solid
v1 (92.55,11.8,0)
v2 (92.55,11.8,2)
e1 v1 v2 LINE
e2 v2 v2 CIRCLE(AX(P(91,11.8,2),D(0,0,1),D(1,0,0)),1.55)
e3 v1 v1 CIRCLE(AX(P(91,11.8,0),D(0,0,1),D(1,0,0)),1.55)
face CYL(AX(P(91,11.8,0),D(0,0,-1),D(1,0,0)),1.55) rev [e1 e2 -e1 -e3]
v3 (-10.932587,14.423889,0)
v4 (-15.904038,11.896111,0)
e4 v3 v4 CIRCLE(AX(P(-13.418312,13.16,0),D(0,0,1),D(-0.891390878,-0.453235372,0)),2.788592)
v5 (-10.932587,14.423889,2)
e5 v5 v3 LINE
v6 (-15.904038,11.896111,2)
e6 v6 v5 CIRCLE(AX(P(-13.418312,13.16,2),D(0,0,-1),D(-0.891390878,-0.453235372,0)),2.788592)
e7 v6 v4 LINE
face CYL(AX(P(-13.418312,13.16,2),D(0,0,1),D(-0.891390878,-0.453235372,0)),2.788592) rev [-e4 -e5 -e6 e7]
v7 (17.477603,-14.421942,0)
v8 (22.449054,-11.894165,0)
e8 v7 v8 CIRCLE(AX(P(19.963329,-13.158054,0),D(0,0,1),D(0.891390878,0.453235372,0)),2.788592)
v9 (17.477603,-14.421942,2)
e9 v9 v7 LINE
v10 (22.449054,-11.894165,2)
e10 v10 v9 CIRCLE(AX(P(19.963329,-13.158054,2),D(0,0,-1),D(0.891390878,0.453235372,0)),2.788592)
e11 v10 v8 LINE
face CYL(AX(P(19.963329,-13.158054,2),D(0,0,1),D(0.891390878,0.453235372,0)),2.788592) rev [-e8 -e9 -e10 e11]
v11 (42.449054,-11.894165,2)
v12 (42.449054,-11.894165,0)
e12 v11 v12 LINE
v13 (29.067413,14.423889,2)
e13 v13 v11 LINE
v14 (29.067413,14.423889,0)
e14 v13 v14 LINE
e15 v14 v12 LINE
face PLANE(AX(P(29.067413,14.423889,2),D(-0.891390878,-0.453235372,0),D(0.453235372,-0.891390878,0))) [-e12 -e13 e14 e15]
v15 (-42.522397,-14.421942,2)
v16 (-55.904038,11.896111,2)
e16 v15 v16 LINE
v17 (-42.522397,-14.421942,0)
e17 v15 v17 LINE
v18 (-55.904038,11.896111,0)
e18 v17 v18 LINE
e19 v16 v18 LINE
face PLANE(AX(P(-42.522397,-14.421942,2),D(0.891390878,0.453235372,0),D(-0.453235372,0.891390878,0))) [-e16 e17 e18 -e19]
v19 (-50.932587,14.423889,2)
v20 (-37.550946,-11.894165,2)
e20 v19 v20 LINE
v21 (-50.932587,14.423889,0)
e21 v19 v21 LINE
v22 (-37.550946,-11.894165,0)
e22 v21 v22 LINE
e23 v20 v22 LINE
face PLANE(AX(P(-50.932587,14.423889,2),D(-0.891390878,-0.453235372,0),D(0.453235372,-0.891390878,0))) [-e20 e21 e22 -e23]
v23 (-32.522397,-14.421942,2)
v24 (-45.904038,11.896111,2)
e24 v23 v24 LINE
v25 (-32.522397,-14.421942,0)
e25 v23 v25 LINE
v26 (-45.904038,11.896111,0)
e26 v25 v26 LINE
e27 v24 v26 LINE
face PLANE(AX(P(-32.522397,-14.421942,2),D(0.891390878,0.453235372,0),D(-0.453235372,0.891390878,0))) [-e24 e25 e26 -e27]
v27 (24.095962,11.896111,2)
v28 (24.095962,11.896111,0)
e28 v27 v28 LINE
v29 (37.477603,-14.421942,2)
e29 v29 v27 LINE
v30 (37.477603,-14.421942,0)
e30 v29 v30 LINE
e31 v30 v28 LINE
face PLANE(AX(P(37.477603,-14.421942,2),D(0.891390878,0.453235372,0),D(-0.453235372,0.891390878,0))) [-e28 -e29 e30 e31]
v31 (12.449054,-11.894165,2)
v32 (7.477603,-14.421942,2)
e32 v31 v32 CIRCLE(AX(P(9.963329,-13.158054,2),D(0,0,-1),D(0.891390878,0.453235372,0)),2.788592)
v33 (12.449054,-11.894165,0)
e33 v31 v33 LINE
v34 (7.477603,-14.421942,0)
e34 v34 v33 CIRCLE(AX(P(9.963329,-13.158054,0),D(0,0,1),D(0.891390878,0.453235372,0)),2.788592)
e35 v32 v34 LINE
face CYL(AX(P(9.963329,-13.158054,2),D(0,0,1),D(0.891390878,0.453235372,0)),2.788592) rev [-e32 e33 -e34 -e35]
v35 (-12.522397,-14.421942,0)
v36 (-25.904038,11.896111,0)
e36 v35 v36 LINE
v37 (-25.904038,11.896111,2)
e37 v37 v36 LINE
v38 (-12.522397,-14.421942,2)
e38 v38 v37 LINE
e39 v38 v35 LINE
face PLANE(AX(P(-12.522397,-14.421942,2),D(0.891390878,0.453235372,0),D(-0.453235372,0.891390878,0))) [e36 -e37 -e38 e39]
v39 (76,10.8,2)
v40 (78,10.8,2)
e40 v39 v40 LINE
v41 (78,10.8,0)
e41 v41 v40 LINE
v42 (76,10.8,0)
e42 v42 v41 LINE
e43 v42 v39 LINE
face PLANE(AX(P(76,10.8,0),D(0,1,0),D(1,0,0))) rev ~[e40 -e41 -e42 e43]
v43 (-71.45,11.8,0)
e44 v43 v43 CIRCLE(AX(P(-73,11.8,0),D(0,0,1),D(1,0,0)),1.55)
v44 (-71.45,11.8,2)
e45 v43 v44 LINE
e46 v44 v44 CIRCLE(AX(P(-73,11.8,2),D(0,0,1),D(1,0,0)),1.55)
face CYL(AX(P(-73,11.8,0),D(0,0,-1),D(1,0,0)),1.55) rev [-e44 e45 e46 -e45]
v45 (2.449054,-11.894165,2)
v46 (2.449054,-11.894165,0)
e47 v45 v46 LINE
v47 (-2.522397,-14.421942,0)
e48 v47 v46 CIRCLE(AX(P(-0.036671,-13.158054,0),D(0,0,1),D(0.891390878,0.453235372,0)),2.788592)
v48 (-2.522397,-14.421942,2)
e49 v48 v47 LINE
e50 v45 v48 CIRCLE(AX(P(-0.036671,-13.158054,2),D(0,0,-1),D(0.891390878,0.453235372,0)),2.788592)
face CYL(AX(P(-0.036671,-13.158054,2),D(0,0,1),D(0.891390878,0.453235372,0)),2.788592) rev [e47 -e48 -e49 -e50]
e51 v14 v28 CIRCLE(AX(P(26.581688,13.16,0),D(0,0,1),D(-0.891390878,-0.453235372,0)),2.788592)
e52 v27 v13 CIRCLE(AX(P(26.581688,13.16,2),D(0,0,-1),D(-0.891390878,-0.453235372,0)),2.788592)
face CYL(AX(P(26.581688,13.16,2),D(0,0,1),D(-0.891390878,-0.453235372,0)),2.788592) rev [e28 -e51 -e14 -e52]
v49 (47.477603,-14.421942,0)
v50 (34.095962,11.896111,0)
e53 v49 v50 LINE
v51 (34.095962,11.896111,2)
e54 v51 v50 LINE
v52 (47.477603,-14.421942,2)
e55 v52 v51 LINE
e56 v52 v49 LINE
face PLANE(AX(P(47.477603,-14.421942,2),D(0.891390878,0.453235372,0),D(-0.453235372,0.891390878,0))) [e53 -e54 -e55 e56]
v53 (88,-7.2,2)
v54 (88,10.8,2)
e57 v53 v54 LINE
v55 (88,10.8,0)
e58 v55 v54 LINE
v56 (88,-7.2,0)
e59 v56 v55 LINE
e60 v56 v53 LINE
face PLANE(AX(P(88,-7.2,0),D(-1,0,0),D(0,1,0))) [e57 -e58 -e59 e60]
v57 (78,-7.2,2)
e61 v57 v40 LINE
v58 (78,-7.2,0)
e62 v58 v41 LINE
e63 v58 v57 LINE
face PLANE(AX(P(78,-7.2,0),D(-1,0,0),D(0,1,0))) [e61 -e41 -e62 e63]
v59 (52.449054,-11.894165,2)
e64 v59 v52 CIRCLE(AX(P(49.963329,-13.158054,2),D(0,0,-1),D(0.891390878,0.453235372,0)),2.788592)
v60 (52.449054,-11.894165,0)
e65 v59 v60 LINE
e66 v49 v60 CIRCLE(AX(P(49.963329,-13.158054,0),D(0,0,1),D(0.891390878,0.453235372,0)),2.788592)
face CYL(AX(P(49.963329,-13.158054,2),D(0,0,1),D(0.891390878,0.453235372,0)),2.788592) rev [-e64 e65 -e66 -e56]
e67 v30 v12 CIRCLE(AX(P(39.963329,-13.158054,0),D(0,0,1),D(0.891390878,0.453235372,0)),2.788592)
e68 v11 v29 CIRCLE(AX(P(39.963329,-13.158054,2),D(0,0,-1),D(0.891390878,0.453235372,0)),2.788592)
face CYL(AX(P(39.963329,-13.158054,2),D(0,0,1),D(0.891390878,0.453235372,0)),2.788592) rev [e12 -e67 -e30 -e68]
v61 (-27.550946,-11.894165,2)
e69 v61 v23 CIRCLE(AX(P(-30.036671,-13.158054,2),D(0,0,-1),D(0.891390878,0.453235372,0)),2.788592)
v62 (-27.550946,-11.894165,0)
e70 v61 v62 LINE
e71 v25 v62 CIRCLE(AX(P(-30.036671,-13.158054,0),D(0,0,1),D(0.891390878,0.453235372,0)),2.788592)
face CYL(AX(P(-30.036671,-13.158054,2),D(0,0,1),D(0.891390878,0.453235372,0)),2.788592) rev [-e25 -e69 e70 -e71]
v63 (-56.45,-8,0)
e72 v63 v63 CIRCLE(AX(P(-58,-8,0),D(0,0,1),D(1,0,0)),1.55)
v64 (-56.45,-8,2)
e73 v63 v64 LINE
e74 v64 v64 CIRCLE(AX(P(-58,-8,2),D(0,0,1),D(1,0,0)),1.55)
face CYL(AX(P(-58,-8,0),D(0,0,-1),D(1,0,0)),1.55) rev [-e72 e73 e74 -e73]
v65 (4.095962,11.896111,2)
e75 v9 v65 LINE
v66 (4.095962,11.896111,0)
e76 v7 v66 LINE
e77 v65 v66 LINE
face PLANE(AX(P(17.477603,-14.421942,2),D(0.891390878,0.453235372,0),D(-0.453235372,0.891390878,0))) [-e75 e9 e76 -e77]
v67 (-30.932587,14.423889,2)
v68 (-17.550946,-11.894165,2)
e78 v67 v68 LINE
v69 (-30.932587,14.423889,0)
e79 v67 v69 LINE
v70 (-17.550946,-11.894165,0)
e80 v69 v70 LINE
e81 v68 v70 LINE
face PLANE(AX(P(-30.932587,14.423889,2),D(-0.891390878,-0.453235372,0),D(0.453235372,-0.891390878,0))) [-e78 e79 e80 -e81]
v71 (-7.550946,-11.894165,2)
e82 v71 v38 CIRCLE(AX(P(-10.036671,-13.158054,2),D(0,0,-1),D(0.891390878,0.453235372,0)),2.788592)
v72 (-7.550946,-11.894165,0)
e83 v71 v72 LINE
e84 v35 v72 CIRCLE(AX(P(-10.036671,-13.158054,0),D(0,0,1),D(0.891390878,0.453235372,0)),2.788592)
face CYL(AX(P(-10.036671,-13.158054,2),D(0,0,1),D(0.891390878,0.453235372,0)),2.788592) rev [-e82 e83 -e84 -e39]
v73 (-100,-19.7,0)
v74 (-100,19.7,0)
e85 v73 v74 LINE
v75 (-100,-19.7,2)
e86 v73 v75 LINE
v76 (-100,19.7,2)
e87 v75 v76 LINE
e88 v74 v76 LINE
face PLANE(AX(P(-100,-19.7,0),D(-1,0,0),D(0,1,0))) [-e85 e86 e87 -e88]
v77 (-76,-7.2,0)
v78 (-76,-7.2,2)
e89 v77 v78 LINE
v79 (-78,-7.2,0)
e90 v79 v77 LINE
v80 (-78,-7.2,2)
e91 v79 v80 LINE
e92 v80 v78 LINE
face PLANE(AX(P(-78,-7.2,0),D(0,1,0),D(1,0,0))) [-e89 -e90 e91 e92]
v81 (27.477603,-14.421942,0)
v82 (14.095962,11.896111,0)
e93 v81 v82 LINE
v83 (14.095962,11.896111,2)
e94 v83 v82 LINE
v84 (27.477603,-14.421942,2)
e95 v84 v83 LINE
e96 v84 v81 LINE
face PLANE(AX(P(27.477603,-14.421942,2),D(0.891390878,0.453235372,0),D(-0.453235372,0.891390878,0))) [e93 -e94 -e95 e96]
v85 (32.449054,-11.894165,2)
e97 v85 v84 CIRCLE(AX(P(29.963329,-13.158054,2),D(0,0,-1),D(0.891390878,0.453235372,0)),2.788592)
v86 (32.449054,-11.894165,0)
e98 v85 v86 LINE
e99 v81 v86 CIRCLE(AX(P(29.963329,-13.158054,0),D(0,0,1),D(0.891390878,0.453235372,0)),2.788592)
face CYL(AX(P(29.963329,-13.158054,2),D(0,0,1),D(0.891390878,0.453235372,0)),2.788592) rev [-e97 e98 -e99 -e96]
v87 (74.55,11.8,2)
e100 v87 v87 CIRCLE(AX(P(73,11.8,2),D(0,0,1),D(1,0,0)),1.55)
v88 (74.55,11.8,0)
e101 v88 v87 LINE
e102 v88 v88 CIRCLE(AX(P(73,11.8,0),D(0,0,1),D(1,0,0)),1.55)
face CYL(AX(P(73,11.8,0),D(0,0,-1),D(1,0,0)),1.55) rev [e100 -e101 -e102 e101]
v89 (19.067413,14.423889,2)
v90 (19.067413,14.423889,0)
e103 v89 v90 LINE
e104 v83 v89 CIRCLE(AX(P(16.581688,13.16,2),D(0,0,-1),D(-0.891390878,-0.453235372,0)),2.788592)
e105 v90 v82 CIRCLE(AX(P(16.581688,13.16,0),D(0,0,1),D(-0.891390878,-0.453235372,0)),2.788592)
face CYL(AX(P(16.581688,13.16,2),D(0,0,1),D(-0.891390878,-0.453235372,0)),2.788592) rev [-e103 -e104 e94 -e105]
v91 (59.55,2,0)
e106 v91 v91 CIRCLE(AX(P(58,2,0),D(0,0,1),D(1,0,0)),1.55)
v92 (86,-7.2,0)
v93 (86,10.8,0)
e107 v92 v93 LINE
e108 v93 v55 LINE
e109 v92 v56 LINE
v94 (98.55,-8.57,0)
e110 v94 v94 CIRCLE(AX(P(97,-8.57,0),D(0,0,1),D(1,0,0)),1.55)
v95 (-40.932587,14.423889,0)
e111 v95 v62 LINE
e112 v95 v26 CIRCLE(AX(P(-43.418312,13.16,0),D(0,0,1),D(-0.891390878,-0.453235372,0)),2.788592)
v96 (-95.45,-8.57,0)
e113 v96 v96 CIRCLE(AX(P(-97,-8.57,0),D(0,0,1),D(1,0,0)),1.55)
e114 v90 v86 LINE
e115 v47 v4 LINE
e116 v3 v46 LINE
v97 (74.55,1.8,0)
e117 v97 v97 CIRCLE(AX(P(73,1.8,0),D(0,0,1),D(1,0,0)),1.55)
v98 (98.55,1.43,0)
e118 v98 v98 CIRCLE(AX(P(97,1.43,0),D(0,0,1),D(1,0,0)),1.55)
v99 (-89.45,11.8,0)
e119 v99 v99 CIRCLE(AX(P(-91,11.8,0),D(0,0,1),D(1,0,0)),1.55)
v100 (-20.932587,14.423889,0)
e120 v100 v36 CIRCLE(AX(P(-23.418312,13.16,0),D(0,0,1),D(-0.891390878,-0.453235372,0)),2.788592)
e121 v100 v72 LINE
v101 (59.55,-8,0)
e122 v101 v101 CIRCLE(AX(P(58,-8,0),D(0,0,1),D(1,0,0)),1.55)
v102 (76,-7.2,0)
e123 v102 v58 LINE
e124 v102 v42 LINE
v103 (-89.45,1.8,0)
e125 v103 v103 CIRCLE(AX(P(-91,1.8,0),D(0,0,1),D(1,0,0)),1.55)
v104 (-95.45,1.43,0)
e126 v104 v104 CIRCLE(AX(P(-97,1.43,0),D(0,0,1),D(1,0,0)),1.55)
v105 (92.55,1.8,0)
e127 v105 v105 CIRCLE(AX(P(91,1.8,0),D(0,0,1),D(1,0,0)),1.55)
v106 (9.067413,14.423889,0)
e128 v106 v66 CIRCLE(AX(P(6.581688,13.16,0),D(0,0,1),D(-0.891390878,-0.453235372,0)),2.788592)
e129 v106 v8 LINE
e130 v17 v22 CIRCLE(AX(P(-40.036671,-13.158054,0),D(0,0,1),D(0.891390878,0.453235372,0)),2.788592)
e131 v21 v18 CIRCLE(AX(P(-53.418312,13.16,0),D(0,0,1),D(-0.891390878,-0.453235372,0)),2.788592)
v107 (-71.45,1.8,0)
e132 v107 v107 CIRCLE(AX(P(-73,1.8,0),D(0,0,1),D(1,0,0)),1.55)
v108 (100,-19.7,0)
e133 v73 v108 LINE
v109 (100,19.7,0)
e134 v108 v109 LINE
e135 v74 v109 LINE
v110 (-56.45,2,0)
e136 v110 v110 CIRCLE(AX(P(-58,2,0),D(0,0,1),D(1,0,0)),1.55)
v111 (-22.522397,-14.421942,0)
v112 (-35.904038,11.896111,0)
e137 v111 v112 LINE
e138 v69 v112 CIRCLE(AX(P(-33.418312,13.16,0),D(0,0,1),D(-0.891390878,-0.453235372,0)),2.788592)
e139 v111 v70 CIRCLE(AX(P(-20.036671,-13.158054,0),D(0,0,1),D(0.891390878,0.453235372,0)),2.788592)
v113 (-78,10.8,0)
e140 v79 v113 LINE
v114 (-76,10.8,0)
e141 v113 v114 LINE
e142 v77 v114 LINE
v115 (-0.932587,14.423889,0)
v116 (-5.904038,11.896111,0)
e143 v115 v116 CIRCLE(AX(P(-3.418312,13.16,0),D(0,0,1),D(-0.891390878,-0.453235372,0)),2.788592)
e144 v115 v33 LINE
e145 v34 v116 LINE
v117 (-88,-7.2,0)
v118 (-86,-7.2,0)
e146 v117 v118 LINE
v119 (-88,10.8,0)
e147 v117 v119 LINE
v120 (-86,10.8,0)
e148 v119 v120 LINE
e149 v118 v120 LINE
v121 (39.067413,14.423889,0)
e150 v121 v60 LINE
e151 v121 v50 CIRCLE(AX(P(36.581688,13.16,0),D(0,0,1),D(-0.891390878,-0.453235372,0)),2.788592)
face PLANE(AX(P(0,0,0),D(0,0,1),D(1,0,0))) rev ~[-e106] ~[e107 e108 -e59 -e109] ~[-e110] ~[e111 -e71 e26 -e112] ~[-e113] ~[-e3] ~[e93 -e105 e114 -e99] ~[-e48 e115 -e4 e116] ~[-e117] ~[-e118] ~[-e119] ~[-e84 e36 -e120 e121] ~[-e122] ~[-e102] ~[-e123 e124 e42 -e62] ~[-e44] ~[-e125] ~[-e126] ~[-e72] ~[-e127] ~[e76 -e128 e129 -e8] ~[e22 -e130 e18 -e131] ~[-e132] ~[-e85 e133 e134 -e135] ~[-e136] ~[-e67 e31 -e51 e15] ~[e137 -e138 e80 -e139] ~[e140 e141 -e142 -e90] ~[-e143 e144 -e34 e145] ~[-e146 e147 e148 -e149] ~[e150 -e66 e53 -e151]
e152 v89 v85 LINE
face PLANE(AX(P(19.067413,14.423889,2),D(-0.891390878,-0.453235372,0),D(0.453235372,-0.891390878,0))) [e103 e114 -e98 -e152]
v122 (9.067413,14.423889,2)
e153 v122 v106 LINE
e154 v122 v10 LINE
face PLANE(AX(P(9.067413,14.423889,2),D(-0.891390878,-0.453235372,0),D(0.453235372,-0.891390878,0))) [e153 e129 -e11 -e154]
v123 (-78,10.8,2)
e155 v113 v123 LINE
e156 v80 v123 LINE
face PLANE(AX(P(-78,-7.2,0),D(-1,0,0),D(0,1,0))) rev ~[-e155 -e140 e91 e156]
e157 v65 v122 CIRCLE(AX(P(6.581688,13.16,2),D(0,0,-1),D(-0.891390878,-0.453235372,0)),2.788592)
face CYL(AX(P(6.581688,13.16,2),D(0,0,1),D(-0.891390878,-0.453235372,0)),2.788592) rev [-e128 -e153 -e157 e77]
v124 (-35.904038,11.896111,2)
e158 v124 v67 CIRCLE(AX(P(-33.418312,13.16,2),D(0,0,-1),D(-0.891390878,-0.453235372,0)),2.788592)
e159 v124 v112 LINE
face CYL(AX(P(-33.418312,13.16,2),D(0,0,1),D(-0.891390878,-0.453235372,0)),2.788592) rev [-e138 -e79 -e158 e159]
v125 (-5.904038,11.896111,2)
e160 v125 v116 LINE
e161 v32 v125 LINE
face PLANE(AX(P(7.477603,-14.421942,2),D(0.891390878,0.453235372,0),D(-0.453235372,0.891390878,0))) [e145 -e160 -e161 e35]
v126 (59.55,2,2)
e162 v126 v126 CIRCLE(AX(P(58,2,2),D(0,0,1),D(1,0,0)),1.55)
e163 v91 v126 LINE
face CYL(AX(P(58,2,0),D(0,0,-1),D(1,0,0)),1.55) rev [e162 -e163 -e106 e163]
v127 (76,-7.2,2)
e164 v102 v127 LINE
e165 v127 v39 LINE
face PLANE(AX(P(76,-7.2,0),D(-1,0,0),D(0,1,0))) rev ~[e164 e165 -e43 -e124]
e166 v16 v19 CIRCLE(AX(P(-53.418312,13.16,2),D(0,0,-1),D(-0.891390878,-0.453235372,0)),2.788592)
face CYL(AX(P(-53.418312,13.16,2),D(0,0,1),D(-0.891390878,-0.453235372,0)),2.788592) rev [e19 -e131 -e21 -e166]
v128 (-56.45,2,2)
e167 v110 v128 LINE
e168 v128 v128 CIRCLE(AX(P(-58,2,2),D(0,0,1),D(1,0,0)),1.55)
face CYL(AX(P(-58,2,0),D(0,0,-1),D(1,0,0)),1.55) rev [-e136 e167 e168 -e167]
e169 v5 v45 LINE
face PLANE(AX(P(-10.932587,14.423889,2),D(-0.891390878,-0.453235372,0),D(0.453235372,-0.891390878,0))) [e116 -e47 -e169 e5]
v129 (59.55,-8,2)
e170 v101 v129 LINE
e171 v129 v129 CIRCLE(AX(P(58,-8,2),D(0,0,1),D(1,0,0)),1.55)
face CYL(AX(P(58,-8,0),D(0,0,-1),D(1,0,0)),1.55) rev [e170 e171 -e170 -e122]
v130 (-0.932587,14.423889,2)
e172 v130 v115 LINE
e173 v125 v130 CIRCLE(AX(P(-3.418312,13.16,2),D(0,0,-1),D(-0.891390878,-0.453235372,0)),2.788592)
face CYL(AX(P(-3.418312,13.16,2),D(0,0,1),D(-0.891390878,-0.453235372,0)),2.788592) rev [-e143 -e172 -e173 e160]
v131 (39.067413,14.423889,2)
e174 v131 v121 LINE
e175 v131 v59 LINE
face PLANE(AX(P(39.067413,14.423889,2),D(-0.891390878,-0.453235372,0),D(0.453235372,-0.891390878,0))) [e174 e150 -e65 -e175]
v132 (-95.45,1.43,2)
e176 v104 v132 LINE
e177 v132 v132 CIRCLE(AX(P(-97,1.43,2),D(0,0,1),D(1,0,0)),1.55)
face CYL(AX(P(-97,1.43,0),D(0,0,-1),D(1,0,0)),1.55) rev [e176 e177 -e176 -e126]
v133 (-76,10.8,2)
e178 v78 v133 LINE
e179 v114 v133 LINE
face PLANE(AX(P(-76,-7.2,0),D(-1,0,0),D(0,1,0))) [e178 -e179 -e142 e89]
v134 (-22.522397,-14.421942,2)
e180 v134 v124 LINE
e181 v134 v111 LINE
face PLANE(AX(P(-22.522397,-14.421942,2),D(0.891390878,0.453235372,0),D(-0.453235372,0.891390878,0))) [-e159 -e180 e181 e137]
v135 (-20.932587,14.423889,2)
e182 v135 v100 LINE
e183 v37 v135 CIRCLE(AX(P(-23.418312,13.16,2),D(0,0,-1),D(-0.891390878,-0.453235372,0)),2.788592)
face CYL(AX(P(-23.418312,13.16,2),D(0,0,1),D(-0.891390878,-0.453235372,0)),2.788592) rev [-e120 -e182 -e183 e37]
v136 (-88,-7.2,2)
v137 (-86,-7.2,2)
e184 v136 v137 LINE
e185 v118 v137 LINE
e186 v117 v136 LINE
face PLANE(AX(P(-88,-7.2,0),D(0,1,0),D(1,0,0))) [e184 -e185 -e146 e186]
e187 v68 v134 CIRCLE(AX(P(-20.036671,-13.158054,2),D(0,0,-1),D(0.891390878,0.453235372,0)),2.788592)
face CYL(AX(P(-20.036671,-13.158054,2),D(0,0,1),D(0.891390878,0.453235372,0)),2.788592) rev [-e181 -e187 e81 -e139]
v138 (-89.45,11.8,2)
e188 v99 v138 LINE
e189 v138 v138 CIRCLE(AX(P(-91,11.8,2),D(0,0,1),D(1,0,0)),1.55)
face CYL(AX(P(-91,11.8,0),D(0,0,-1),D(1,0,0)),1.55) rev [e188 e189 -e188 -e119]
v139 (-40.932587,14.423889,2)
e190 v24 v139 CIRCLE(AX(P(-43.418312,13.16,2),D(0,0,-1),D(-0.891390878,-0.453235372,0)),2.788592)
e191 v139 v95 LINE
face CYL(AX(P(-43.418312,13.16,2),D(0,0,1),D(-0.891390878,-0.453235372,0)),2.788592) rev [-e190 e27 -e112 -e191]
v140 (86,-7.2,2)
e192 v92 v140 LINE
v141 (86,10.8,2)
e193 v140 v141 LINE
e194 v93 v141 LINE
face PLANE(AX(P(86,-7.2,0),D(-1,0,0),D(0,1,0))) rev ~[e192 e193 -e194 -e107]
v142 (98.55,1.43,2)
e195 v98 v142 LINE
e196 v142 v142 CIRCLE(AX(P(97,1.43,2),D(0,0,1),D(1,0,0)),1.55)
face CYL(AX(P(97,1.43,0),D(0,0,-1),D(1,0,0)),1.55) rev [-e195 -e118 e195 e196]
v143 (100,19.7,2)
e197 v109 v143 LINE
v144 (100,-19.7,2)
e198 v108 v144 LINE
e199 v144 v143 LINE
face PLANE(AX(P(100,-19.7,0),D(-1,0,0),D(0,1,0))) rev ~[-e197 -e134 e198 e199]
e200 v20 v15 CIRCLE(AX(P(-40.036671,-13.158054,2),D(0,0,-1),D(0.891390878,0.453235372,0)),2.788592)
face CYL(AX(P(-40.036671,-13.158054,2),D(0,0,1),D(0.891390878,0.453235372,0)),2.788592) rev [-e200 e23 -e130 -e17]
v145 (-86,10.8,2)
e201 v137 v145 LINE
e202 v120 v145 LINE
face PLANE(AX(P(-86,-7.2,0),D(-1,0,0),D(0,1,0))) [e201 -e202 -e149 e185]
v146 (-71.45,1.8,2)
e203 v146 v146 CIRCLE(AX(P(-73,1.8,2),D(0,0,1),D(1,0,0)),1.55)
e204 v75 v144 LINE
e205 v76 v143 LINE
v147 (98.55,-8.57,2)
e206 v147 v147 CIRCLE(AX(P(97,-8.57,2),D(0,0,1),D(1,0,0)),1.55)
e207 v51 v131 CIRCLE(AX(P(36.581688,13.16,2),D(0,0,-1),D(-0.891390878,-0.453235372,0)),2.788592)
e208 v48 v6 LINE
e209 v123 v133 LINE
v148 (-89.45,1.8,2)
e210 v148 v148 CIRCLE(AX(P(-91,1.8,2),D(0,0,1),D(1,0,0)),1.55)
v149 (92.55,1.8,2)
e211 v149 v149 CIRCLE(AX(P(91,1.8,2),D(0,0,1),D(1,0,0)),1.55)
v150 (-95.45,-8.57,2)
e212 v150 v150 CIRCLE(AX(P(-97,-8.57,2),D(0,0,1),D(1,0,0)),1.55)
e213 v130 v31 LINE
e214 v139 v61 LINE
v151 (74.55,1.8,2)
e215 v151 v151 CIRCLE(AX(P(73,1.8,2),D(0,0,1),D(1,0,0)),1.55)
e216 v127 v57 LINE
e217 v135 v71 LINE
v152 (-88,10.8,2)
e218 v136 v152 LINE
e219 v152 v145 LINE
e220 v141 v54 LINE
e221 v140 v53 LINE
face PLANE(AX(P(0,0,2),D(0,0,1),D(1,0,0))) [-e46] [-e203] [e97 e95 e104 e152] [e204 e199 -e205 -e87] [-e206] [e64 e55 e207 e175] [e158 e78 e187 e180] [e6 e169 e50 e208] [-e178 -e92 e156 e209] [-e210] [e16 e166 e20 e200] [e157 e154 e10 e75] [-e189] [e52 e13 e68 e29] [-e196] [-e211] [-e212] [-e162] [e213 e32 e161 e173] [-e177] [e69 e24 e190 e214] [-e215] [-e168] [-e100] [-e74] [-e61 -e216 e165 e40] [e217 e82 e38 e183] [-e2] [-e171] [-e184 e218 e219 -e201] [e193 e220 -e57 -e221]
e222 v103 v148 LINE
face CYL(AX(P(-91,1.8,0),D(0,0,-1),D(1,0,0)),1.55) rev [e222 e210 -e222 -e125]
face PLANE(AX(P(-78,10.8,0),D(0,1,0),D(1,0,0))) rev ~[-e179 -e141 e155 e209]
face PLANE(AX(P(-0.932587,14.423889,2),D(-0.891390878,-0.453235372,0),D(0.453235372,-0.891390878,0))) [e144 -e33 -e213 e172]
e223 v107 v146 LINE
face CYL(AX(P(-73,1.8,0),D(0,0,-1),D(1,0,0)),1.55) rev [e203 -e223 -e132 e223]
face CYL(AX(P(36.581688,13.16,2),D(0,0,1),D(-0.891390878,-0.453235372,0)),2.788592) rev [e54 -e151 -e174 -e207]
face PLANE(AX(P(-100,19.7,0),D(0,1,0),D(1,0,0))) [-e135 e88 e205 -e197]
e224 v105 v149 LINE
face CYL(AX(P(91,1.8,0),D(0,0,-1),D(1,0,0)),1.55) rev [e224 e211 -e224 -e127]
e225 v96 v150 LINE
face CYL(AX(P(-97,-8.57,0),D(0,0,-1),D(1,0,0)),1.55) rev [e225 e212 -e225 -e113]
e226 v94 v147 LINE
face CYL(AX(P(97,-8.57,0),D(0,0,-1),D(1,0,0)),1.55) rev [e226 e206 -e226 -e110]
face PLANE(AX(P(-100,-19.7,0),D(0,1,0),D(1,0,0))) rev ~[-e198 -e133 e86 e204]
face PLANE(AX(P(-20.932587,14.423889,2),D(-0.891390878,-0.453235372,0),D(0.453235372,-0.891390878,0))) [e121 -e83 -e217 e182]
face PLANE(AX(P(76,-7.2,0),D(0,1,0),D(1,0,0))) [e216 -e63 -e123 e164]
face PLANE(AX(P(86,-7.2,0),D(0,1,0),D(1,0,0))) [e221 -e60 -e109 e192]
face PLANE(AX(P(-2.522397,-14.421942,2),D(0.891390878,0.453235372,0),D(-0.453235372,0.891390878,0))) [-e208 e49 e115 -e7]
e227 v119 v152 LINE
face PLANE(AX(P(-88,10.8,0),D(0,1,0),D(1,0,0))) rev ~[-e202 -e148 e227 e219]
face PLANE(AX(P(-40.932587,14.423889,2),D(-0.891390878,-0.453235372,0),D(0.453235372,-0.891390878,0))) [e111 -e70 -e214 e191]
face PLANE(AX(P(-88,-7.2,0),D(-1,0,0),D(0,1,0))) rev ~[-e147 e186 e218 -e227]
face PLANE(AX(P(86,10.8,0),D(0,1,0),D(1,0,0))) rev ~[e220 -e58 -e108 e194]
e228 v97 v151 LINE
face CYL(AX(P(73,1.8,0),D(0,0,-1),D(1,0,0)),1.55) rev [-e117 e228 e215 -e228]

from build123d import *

# Parameters (mm, degrees)
SKETCH_1_W          = 200
SKETCH_1_H          = 39.4
SKETCH_1_R          = 1.55
SKETCH_1_W_2        = 2
SKETCH_1_H_2        = 18
EXTRUDE_1_DEPTH     = 2
CUT_EXTRUDE_1_DEPTH = 3


with BuildPart() as part:
    # 草图1 → 凸台-拉伸1 (new body)
    with BuildSketch(Plane.XY):
        Rectangle(SKETCH_1_W, SKETCH_1_H)
        with Locations((97, 1.43)):
            Circle(SKETCH_1_R, mode=Mode.SUBTRACT)
        with Locations((97, -8.57)):
            Circle(SKETCH_1_R, mode=Mode.SUBTRACT)
        with Locations((58, 2)):
            Circle(SKETCH_1_R, mode=Mode.SUBTRACT)
        with Locations((58, -8)):
            Circle(SKETCH_1_R, mode=Mode.SUBTRACT)
        with Locations((-97, 1.43)):
            Circle(SKETCH_1_R, mode=Mode.SUBTRACT)
        with Locations((-97, -8.57)):
            Circle(SKETCH_1_R, mode=Mode.SUBTRACT)
        with Locations((-58, -8)):
            Circle(SKETCH_1_R, mode=Mode.SUBTRACT)
        with Locations((-58, 2)):
            Circle(SKETCH_1_R, mode=Mode.SUBTRACT)
        with Locations((73, 11.8)):
            Circle(SKETCH_1_R, mode=Mode.SUBTRACT)
        with Locations((73, 1.8)):
            Circle(SKETCH_1_R, mode=Mode.SUBTRACT)
        with Locations((-73, 11.8)):
            Circle(SKETCH_1_R, mode=Mode.SUBTRACT)
        with Locations((-73, 1.8)):
            Circle(SKETCH_1_R, mode=Mode.SUBTRACT)
        with Locations((91, 11.8)):
            Circle(SKETCH_1_R, mode=Mode.SUBTRACT)
        with Locations((91, 1.8)):
            Circle(SKETCH_1_R, mode=Mode.SUBTRACT)
        with Locations((-91, 1.8)):
            Circle(SKETCH_1_R, mode=Mode.SUBTRACT)
        with Locations((-91, 11.8)):
            Circle(SKETCH_1_R, mode=Mode.SUBTRACT)
        with Locations((87, 1.8)):
            Rectangle(SKETCH_1_W_2, SKETCH_1_H_2, mode=Mode.SUBTRACT)
        with Locations((-87, 1.8)):
            Rectangle(SKETCH_1_W_2, SKETCH_1_H_2, mode=Mode.SUBTRACT)
        with Locations((77, 1.8)):
            Rectangle(SKETCH_1_W_2, SKETCH_1_H_2, mode=Mode.SUBTRACT)
        with Locations((-77, 1.8)):
            Rectangle(SKETCH_1_W_2, SKETCH_1_H_2, mode=Mode.SUBTRACT)
    extrude(amount=EXTRUDE_1_DEPTH)

    # 草图2 → 切除-拉伸1 (cut, through all)
    with BuildSketch(Plane.XY.offset(2)):
        with BuildLine():
            Line((-50.932586808, 14.42388858), (-37.550945645, -11.894165105))
            ThreePointArc((-37.550945645, -11.894165105), (-38.772782628, -15.643779248), (-42.522396771, -14.421942266))
            Line((-42.522396771, -14.421942266), (-55.904037934, 11.89611142))
            ThreePointArc((-55.904037934, 11.89611142), (-54.682200951, 15.645725563), (-50.932586808, 14.42388858))
        make_face()
        with BuildLine():
            Line((-40.932586808, 14.42388858), (-27.550945645, -11.894165105))
            ThreePointArc((-27.550945645, -11.894165105), (-28.772782628, -15.643779248), (-32.522396771, -14.421942266))
            Line((-32.522396771, -14.421942266), (-45.904037934, 11.89611142))
            ThreePointArc((-45.904037934, 11.89611142), (-44.682200951, 15.645725563), (-40.932586808, 14.42388858))
        make_face()
        with BuildLine():
            Line((-30.932586808, 14.42388858), (-17.550945645, -11.894165105))
            ThreePointArc((-17.550945645, -11.894165105), (-18.772782628, -15.643779248), (-22.522396771, -14.421942266))
            Line((-22.522396771, -14.421942266), (-35.904037934, 11.89611142))
            ThreePointArc((-35.904037934, 11.89611142), (-34.682200951, 15.645725563), (-30.932586808, 14.42388858))
        make_face()
        with BuildLine():
            Line((-20.932586808, 14.42388858), (-7.550945645, -11.894165105))
            ThreePointArc((-7.550945645, -11.894165105), (-8.772782628, -15.643779248), (-12.522396771, -14.421942266))
            Line((-12.522396771, -14.421942266), (-25.904037934, 11.89611142))
            ThreePointArc((-25.904037934, 11.89611142), (-24.682200951, 15.645725563), (-20.932586808, 14.42388858))
        make_face()
        with BuildLine():
            Line((-10.932586808, 14.42388858), (2.449054355, -11.894165105))
            ThreePointArc((2.449054355, -11.894165105), (1.227217372, -15.643779248), (-2.522396771, -14.421942266))
            Line((-2.522396771, -14.421942266), (-15.904037934, 11.89611142))
            ThreePointArc((-15.904037934, 11.89611142), (-14.682200951, 15.645725563), (-10.932586808, 14.42388858))
        make_face()
        with BuildLine():
            Line((-0.932586808, 14.42388858), (12.449054355, -11.894165105))
            ThreePointArc((12.449054355, -11.894165105), (11.227217372, -15.643779248), (7.477603229, -14.421942266))
            Line((7.477603229, -14.421942266), (-5.904037934, 11.89611142))
            ThreePointArc((-5.904037934, 11.89611142), (-4.682200951, 15.645725563), (-0.932586808, 14.42388858))
        make_face()
        with BuildLine():
            Line((9.067413192, 14.42388858), (22.449054355, -11.894165105))
            ThreePointArc((22.449054355, -11.894165105), (21.227217372, -15.643779248), (17.477603229, -14.421942266))
            Line((17.477603229, -14.421942266), (4.095962066, 11.89611142))
            ThreePointArc((4.095962066, 11.89611142), (5.317799049, 15.645725563), (9.067413192, 14.42388858))
        make_face()
        with BuildLine():
            Line((19.067413192, 14.42388858), (32.449054355, -11.894165105))
            ThreePointArc((32.449054355, -11.894165105), (31.227217372, -15.643779248), (27.477603229, -14.421942266))
            Line((27.477603229, -14.421942266), (14.095962066, 11.89611142))
            ThreePointArc((14.095962066, 11.89611142), (15.317799049, 15.645725563), (19.067413192, 14.42388858))
        make_face()
        with BuildLine():
            Line((29.067413192, 14.42388858), (42.449054355, -11.894165105))
            ThreePointArc((42.449054355, -11.894165105), (41.227217372, -15.643779248), (37.477603229, -14.421942266))
            Line((37.477603229, -14.421942266), (24.095962066, 11.89611142))
            ThreePointArc((24.095962066, 11.89611142), (25.317799049, 15.645725563), (29.067413192, 14.42388858))
        make_face()
        with BuildLine():
            Line((39.067413192, 14.42388858), (52.449054355, -11.894165105))
            ThreePointArc((52.449054355, -11.894165105), (51.227217372, -15.643779248), (47.477603229, -14.421942266))
            Line((47.477603229, -14.421942266), (34.095962066, 11.89611142))
            ThreePointArc((34.095962066, 11.89611142), (35.317799049, 15.645725563), (39.067413192, 14.42388858))
        make_face()
    extrude(amount=-CUT_EXTRUDE_1_DEPTH, mode=Mode.SUBTRACT)


solid = part.part
